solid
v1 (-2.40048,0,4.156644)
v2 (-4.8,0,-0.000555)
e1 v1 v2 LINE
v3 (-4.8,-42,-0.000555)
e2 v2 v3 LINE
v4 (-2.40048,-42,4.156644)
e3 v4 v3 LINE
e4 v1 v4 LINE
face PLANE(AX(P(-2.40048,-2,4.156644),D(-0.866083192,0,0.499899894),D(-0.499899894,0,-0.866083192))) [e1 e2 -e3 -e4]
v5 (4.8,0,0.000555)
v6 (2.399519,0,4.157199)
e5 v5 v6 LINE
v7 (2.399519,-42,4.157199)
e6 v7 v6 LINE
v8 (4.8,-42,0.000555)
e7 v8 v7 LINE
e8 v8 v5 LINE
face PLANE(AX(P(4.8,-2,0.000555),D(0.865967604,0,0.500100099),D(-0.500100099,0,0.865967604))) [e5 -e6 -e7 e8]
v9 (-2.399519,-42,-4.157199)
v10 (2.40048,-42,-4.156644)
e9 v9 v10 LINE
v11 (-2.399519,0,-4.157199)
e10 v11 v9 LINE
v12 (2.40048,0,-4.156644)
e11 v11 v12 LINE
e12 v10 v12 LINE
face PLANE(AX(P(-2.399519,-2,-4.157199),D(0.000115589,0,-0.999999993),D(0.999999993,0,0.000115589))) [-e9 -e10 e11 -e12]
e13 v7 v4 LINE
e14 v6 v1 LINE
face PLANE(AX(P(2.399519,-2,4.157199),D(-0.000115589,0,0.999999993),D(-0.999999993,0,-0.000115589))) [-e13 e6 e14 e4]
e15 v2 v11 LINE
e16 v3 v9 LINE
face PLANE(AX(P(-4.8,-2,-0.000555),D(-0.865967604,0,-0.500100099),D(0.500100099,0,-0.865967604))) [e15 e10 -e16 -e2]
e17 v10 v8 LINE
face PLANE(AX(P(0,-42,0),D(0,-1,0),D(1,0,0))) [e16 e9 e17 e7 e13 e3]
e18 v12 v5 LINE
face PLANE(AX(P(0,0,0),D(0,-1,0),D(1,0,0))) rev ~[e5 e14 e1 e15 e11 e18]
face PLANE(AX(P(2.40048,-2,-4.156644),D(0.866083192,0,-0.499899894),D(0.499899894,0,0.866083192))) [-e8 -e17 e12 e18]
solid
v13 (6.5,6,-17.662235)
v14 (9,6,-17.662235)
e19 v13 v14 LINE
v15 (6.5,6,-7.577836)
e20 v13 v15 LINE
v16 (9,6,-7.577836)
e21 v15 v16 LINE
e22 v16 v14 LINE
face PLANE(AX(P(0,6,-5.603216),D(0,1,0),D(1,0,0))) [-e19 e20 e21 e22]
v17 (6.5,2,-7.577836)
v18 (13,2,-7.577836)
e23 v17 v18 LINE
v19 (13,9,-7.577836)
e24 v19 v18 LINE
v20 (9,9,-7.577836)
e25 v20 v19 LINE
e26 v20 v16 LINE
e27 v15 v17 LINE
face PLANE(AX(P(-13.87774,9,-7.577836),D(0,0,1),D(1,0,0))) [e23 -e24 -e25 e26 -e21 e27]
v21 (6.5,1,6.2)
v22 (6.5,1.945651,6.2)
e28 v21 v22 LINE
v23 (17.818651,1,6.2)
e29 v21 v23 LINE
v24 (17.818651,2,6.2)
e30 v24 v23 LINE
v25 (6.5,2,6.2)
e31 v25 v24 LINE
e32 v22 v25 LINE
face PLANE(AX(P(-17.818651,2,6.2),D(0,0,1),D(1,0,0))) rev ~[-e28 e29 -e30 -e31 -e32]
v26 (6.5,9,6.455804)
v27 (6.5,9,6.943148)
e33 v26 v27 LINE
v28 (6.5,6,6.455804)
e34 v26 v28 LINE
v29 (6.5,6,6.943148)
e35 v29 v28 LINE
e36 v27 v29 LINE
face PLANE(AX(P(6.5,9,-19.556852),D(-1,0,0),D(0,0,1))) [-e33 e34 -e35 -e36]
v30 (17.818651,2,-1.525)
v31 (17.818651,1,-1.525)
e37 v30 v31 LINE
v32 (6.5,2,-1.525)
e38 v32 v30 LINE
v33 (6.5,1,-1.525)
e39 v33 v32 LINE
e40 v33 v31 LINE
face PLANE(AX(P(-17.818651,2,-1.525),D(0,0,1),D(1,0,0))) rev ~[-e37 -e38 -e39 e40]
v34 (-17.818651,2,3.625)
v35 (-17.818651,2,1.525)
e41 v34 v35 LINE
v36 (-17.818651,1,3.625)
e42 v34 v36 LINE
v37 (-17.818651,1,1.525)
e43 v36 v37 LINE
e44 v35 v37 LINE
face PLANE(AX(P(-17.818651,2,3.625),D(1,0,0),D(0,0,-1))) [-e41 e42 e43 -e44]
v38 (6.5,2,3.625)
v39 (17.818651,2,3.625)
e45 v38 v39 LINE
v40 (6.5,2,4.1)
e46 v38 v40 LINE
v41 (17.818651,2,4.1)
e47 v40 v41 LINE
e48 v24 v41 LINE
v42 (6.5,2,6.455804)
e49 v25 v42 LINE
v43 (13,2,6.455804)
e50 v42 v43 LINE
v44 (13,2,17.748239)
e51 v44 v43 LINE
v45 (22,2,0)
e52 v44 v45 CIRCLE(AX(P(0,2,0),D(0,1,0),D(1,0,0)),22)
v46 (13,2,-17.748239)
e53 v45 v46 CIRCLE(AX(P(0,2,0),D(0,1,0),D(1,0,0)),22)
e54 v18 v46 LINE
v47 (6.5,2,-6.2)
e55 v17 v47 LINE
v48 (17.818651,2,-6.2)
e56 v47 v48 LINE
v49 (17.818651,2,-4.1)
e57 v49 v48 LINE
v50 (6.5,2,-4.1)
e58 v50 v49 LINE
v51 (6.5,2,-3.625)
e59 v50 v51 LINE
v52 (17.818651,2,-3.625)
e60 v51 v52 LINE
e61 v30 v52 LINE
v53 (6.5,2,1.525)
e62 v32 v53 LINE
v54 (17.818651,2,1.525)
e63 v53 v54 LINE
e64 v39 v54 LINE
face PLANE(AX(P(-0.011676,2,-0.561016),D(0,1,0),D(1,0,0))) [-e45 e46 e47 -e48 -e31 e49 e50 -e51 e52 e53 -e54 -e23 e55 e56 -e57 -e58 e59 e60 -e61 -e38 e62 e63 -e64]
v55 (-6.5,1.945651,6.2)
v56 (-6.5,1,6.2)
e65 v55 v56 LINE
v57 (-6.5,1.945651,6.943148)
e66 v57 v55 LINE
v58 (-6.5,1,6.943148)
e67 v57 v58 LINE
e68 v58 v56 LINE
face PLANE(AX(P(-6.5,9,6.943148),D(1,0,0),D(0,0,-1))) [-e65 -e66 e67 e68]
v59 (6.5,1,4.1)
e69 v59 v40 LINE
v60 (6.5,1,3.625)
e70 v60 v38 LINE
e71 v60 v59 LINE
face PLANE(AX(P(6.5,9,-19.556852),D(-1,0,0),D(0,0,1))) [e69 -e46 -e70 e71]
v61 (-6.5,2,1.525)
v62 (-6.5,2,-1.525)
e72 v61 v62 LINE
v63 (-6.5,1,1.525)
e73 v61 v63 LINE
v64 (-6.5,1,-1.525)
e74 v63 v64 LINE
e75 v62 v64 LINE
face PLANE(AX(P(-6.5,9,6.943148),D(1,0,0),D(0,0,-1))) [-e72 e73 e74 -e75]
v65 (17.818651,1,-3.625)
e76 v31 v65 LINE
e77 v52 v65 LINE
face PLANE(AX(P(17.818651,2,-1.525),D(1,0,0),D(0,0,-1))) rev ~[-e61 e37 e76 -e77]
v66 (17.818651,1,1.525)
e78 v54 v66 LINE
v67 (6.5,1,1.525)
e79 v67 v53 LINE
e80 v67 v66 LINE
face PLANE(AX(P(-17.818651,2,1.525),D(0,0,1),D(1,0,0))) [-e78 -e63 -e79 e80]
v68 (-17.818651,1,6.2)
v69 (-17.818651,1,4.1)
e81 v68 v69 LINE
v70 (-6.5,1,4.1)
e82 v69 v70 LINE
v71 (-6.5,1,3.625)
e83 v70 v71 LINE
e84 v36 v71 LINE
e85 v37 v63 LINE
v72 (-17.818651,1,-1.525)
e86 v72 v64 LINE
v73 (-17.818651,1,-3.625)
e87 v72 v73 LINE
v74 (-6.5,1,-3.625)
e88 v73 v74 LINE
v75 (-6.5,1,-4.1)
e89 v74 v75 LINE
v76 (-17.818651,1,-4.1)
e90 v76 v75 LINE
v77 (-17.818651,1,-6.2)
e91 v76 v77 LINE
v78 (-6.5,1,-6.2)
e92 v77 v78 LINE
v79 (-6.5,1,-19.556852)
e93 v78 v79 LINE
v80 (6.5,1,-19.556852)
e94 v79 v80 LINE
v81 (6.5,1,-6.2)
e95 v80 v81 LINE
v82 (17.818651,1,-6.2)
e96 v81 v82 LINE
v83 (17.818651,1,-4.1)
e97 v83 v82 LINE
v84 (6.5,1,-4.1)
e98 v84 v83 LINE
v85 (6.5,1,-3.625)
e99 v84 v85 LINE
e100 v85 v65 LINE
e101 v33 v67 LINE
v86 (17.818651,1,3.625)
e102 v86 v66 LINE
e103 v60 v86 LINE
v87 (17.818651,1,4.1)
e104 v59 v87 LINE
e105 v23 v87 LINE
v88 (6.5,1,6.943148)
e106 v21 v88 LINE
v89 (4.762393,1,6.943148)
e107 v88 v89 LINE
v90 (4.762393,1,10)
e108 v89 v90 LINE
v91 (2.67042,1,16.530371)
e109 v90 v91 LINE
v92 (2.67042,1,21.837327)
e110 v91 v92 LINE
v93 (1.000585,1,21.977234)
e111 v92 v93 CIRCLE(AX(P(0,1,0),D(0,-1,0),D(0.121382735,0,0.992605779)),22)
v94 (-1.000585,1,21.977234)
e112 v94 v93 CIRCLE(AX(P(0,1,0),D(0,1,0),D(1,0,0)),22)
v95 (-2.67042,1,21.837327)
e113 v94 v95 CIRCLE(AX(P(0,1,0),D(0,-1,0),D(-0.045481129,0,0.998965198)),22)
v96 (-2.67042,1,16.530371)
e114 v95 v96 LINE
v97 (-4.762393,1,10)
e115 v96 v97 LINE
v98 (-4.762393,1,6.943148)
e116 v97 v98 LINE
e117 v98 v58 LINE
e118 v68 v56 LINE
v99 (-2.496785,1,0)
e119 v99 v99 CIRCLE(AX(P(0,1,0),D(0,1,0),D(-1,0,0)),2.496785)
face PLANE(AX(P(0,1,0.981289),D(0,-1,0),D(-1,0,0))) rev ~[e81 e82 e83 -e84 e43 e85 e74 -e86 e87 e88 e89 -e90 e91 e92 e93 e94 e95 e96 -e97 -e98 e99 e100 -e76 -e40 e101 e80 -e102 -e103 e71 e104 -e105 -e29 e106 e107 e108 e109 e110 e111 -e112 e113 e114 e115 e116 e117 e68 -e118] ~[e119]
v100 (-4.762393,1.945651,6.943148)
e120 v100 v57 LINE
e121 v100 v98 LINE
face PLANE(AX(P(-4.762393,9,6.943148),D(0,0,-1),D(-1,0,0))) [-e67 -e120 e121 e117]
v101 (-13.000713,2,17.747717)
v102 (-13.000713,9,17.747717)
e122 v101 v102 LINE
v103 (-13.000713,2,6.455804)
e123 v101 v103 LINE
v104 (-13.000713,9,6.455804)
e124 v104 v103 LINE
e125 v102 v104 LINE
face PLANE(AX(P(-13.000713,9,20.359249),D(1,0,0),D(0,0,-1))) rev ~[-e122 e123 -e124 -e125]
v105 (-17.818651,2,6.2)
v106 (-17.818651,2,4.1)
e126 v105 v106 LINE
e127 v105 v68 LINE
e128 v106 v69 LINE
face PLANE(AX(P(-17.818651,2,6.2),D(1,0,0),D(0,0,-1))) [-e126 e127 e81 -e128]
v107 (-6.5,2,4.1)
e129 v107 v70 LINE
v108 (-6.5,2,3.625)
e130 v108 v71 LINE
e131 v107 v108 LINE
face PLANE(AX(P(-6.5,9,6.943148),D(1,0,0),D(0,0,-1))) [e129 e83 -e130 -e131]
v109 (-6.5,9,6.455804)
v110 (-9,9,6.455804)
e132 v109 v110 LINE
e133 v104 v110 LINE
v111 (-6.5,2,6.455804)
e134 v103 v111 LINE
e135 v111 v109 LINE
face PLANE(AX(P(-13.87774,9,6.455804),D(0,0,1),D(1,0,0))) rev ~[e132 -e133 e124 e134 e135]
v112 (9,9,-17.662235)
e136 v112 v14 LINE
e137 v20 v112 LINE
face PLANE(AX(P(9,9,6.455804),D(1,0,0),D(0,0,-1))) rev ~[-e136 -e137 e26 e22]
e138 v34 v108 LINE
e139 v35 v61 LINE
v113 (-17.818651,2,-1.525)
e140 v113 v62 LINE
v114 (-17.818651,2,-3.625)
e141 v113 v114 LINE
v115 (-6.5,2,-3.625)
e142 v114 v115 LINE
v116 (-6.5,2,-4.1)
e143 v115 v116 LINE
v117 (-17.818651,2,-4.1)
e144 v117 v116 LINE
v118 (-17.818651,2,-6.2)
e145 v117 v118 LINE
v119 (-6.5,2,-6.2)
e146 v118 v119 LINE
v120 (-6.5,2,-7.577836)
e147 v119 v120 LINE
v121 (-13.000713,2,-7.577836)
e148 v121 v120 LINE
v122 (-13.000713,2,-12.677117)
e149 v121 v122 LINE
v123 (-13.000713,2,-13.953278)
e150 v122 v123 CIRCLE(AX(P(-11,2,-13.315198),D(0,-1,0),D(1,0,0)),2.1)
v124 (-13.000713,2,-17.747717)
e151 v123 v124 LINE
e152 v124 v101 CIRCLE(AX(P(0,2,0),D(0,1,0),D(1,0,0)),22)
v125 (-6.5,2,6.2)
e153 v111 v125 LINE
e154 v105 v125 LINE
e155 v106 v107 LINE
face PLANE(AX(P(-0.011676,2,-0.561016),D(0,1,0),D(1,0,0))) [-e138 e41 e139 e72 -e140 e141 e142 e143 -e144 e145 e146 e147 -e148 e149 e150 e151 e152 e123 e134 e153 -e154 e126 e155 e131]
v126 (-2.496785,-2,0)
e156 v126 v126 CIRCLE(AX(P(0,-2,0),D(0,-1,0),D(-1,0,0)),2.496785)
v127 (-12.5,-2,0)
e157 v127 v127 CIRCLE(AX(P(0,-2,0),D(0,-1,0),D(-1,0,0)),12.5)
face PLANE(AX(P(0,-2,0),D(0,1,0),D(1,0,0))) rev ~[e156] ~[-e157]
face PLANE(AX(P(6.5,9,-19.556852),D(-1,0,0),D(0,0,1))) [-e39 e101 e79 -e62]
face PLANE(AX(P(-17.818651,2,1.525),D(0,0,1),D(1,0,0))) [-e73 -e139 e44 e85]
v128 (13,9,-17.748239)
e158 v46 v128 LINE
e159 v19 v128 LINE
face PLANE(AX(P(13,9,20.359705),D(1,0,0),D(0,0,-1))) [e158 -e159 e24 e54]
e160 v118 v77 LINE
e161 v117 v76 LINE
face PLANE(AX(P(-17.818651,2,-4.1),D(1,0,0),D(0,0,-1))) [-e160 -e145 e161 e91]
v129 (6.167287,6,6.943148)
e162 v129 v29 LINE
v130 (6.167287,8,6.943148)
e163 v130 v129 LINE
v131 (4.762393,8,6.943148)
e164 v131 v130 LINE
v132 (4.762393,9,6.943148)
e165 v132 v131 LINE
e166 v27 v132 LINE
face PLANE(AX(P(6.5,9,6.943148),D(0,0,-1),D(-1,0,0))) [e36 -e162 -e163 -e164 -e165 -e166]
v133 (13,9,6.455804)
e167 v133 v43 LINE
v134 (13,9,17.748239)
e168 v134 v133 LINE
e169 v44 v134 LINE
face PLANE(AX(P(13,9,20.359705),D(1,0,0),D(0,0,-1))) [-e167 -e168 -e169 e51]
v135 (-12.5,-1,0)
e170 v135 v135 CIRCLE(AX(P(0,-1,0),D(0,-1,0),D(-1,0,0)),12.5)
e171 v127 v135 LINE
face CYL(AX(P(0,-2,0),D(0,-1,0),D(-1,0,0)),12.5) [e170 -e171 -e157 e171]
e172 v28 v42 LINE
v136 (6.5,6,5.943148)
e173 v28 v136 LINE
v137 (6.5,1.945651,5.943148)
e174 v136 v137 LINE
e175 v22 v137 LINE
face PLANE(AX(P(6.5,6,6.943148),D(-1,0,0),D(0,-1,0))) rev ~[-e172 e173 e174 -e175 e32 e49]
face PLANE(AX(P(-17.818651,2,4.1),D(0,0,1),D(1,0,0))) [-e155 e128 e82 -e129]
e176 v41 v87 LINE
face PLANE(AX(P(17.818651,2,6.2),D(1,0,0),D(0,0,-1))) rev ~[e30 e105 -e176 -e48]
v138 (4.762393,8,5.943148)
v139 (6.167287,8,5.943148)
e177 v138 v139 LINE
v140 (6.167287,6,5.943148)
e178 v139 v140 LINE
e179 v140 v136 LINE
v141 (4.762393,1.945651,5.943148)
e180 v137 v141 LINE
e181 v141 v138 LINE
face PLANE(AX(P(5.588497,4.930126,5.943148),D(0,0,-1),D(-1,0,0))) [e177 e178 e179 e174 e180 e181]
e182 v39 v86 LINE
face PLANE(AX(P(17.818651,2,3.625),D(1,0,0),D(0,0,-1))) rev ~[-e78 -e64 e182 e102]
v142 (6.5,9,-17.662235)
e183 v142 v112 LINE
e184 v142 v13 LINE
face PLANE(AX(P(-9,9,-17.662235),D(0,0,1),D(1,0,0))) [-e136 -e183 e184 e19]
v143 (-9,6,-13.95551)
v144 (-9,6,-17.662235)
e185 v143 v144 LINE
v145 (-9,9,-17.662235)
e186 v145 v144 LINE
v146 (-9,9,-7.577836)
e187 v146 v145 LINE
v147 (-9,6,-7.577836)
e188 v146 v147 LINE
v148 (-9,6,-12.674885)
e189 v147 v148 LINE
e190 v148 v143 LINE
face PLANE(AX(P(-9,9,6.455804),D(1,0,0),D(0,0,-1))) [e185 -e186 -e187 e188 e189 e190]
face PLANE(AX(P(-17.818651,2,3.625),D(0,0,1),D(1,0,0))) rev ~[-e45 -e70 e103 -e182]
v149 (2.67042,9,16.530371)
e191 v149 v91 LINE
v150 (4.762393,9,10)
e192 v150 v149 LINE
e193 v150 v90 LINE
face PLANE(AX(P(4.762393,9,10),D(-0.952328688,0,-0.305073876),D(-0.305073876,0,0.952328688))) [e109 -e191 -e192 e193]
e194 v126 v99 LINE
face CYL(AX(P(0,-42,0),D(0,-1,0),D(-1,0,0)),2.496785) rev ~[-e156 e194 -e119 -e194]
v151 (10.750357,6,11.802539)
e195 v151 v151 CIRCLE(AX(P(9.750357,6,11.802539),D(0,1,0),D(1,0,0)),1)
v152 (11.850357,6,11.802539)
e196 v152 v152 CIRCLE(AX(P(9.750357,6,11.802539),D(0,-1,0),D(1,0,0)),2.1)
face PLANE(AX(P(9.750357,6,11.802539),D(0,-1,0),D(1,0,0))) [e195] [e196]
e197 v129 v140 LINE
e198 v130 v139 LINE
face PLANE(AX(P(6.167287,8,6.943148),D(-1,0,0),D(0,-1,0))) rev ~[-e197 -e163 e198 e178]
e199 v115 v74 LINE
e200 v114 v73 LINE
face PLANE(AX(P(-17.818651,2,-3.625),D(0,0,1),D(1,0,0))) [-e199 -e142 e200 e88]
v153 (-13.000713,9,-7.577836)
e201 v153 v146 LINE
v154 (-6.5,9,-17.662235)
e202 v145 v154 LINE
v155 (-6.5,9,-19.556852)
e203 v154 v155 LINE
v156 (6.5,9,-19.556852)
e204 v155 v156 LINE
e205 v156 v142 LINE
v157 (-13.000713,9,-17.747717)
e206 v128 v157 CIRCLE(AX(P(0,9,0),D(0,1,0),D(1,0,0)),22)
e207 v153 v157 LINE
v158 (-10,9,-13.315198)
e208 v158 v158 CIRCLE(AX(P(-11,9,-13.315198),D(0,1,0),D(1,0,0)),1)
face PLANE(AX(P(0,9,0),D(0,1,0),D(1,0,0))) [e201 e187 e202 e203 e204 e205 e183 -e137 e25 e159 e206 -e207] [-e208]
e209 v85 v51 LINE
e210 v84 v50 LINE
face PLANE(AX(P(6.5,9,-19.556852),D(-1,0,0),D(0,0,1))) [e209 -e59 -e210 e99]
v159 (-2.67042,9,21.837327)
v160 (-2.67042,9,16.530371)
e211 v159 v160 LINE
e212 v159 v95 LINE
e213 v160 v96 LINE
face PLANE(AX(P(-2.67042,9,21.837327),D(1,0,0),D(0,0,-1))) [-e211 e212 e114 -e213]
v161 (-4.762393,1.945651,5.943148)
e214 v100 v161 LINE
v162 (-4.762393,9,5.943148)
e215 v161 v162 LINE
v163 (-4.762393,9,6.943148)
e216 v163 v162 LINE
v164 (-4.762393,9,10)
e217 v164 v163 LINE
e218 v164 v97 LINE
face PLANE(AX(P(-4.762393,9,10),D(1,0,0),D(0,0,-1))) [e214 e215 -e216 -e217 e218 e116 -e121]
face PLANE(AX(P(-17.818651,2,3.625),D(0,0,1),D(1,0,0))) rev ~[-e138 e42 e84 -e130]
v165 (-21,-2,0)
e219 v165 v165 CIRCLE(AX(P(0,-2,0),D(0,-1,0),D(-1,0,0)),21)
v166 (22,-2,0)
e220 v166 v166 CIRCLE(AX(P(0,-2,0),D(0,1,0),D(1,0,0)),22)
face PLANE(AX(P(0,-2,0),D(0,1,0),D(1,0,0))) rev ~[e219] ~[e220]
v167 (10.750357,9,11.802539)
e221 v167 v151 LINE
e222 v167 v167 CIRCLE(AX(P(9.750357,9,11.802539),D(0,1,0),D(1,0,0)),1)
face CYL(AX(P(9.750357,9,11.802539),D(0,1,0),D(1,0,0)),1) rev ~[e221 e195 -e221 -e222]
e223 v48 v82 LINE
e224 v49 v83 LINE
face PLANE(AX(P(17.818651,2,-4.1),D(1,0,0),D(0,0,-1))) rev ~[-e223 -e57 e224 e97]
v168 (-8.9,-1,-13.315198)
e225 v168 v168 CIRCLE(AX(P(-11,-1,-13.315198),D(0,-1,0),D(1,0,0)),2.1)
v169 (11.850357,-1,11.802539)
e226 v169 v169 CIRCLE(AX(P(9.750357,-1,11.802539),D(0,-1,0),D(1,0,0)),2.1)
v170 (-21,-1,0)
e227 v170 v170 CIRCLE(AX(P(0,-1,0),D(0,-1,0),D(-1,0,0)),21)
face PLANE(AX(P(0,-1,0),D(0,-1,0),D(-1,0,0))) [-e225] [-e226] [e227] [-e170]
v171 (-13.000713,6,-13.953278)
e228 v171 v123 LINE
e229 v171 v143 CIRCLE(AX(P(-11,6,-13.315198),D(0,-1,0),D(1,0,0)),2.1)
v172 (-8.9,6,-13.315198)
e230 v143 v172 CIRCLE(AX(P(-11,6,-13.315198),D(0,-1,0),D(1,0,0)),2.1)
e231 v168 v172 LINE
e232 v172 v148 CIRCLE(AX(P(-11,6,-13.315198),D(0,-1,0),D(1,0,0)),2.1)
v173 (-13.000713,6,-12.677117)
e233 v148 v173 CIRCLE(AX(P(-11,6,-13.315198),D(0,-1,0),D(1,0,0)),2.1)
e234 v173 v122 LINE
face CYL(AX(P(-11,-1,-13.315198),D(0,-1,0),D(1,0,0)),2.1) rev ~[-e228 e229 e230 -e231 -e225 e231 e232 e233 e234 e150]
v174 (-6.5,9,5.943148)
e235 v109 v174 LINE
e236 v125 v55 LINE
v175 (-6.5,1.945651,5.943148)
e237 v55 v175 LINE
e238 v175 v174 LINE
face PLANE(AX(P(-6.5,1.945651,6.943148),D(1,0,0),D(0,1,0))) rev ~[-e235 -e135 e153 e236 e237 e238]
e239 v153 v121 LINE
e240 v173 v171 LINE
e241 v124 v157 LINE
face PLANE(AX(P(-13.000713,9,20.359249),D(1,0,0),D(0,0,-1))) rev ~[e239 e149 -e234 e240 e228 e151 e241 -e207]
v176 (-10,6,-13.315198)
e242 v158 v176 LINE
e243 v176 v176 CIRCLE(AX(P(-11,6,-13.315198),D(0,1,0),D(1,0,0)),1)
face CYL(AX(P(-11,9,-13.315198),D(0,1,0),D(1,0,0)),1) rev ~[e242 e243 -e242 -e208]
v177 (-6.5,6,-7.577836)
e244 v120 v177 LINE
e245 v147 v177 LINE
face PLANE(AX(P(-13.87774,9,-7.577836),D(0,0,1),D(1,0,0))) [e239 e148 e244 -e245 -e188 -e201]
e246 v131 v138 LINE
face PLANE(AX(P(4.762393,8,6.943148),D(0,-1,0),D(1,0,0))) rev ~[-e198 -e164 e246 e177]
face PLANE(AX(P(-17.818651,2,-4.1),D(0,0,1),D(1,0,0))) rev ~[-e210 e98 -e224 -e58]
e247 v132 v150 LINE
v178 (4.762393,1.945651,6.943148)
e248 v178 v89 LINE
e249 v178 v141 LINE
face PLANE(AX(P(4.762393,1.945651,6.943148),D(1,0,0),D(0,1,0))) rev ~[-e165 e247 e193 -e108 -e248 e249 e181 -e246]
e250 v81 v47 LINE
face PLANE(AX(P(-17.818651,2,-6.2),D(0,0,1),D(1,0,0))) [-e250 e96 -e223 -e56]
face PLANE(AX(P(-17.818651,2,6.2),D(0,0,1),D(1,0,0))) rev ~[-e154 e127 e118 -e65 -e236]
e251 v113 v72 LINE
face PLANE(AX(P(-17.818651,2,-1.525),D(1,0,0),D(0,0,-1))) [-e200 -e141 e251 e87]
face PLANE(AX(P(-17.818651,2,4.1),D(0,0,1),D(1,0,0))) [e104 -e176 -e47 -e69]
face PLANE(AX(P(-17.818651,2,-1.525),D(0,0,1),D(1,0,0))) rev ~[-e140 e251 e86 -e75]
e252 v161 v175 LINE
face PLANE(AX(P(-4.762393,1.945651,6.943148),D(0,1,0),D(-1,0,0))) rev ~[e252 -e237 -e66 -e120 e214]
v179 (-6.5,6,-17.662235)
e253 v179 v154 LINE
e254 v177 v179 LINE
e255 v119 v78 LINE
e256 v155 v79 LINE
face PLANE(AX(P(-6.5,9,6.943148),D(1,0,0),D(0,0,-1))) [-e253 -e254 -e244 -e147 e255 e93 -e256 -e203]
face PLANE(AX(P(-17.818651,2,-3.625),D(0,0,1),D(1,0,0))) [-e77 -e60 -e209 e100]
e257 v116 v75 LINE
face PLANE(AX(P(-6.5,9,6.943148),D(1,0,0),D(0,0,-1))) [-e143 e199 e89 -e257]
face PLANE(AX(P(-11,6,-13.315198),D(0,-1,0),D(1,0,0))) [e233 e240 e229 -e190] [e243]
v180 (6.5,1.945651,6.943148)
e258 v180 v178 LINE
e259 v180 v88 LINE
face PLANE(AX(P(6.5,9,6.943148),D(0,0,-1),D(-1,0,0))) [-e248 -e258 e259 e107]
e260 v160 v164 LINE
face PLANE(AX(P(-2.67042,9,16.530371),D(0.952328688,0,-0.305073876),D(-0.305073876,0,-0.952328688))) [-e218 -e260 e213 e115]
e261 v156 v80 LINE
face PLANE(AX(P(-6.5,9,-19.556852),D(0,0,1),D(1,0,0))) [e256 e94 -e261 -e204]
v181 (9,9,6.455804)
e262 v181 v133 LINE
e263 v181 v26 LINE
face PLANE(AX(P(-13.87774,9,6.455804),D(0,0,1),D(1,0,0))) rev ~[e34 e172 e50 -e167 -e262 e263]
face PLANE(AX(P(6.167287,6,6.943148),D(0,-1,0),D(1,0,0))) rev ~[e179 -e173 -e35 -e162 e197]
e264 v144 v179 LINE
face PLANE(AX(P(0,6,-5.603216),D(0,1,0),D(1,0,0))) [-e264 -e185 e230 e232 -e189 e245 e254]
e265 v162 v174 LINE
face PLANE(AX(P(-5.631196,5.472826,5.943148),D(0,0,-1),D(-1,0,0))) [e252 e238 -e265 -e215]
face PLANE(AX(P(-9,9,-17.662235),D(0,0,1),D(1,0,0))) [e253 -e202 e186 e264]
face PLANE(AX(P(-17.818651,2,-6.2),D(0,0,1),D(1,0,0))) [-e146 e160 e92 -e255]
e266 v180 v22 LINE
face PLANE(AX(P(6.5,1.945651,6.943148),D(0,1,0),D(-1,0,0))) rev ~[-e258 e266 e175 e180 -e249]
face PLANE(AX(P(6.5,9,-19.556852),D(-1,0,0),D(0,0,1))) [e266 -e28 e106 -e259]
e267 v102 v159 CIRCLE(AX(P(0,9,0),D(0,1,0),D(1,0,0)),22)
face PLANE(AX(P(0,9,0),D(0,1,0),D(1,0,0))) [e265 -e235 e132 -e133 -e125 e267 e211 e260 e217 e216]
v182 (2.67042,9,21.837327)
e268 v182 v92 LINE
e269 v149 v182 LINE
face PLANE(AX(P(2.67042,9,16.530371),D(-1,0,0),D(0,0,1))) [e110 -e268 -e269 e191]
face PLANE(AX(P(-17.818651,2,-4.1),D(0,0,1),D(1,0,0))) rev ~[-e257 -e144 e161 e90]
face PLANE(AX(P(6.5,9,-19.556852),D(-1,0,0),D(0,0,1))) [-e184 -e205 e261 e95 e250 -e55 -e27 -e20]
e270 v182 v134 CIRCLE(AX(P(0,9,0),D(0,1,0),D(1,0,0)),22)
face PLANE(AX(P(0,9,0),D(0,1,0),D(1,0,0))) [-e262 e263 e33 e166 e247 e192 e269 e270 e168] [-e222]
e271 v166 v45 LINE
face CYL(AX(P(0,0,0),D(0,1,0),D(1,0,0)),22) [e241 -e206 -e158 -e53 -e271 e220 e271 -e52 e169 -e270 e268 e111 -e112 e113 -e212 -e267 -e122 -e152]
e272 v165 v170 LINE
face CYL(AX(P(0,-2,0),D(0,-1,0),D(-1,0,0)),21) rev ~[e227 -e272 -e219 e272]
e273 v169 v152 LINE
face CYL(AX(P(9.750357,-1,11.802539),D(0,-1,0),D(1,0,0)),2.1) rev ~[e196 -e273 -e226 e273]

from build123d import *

# Parameters (mm, degrees)
SKETCH1_R                = 22
BOSS_EXTRUDE1_DEPTH      = 9
BOSS_EXTRUDE1_DEPTH_BACK = 2
SKETCH6_R                = 21
SKETCH6_R_2              = 12.5
CUT_EXTRUDE5_DEPTH       = 1
SKETCH7_R                = 8.5
BOSS_EXTRUDE2_DEPTH      = 40
SKETCH8_R                = 1.5
CUT_EXTRUDE6_DEPTH       = 41
CUT_EXTRUDE6_DEPTH_BACK  = 12
CUT_EXTRUDE7_DEPTH       = 7
SKETCH17_R               = 2.496785081
CUT_EXTRUDE14_DEPTH      = 62
SKETCH29_W               = 18
SKETCH29_H               = 24.118038922
CUT_EXTRUDE19_DEPTH      = 3
SKETCH30_W               = 2.5
SKETCH30_H               = 14
CUT_EXTRUDE20_DEPTH      = 6
SKETCH35_R               = 9.1
SKETCH35_R_2             = 8.5
BOSS_EXTRUDE4_DEPTH      = 2
BOSS_EXTRUDE4_DEPTH_BACK = 2
SKETCH36_R               = 8.5
SKETCH36_R_2             = 8.3
CUT_EXTRUDE28_DEPTH      = 1.5
CUT_EXTRUDE28_DEPTH_BACK = 1.5
SKETCH39_R               = 8.5
SKETCH39_R_2             = 8.3
CUT_EXTRUDE30_DEPTH      = 1.5
CUT_EXTRUDE30_DEPTH_BACK = 1.5
SKETCH40_R               = 8.5
SKETCH40_R_2             = 8.3
CUT_EXTRUDE31_DEPTH      = 1.5
CUT_EXTRUDE31_DEPTH_BACK = 1.5
SKETCH41_R               = 8.5
SKETCH41_R_2             = 8.35
CUT_EXTRUDE32_DEPTH      = 1.5
CUT_EXTRUDE32_DEPTH_BACK = 1.5
SKETCH42_R               = 8.5
SKETCH42_R_2             = 8.3
CUT_EXTRUDE33_DEPTH      = 1.5
CUT_EXTRUDE33_DEPTH_BACK = 1.5
SKETCH43_R               = 8.5
SKETCH43_R_2             = 8.3
CUT_EXTRUDE34_DEPTH      = 1.5
CUT_EXTRUDE34_DEPTH_BACK = 1.5
SKETCH44_R               = 1
CUT_EXTRUDE35_DEPTH      = 23
CUT_EXTRUDE35_DEPTH_BACK = 23
SKETCH45_R               = 1
CUT_EXTRUDE36_DEPTH      = 31.052558883
CUT_EXTRUDE36_DEPTH_BACK = 31.052558883
SKETCH46_R               = 1
CUT_EXTRUDE37_DEPTH      = 31.052558883
CUT_EXTRUDE37_DEPTH_BACK = 31.052558883
SKETCH47_W               = 27.732128476
SKETCH47_H               = 14.033639909
CUT_EXTRUDE38_DEPTH      = 7
CUT_EXTRUDE39_DEPTH      = 8
SKETCH48_R               = 1
CUT_EXTRUDE40_DEPTH      = 9
SKETCH50_R               = 6.388253867
BOSS_EXTRUDE5_DEPTH      = 2
SKETCH49_R               = 2.1
CUT_EXTRUDE42_DEPTH      = 7
SKETCH51_W               = 35.63730279
SKETCH51_H               = 2.1
CUT_EXTRUDE43_DEPTH      = 1
SKETCH53_R               = 9.1
CUT_EXTRUDE45_DEPTH      = 40
SKETCH55_W               = 1.737607108
SKETCH55_H               = 7.054348591
BOSS_EXTRUDE6_DEPTH      = 1
BOSS_EXTRUDE9_DEPTH      = 40
BOSS_EXTRUDE9_DEPTH_BACK = 2


with BuildPart() as part:
    # Sketch1 → Boss-Extrude1 (new body, two sides)
    with BuildSketch(Plane(origin=(0, 0, 0), x_dir=(1, 0, 0), z_dir=(0, 1, 0))) as boss_extrude1_sk:
        Circle(SKETCH1_R)
    extrude(amount=BOSS_EXTRUDE1_DEPTH)
    extrude(boss_extrude1_sk.sketch, amount=-BOSS_EXTRUDE1_DEPTH_BACK)

    # Sketch6 → Cut-Extrude5 (cut)
    with BuildSketch(Plane(origin=(0, -2, 0), x_dir=(-1, 0, 0), z_dir=(0, -1, 0))):
        Circle(SKETCH6_R)
        Circle(SKETCH6_R_2, mode=Mode.SUBTRACT)
    extrude(amount=-CUT_EXTRUDE5_DEPTH, mode=Mode.SUBTRACT)

    # Sketch7 → Boss-Extrude2 (add)
    with BuildSketch(Plane(origin=(0, -2, 0), x_dir=(-1, 0, 0), z_dir=(0, -1, 0))):
        Circle(SKETCH7_R)
    extrude(amount=BOSS_EXTRUDE2_DEPTH)

    # Sketch8 → Cut-Extrude6 (cut, two sides)
    with BuildSketch(Plane(origin=(0, -2, 0), x_dir=(-1, 0, 0), z_dir=(0, -1, 0))) as cut_extrude6_sk:
        Circle(SKETCH8_R)
    extrude(amount=CUT_EXTRUDE6_DEPTH, mode=Mode.SUBTRACT)
    extrude(cut_extrude6_sk.sketch, amount=-CUT_EXTRUDE6_DEPTH_BACK, mode=Mode.SUBTRACT)

    # Sketch9 → Cut-Extrude7 (cut)
    with BuildSketch(Plane(origin=(0, 9, 0), x_dir=(1, 0, 0), z_dir=(0, 1, 0))):
        with BuildLine():
            Line((-13.000713231, -20.359249211), (-13.000713231, 20.359249211))
            ThreePointArc((-13.000713231, 20.359249211), (-24.156108398, 0), (-13.000713231, -20.359249211))
        make_face()
        with BuildLine():
            Line((13, -20.359704638), (13, 20.359704638))
            ThreePointArc((13, 20.359704638), (24.156108398, 0), (13, -20.359704638))
        make_face()
    extrude(amount=-CUT_EXTRUDE7_DEPTH, mode=Mode.SUBTRACT)

    # Sketch17 → Cut-Extrude14 (cut)
    with BuildSketch(Plane(origin=(0, -42, 0), x_dir=(-1, 0, 0), z_dir=(0, -1, 0))):
        Circle(SKETCH17_R)
    extrude(amount=-CUT_EXTRUDE14_DEPTH, mode=Mode.SUBTRACT)

    # Sketch29 → Cut-Extrude19 (cut)
    with BuildSketch(Plane(origin=(0, 9, 0), x_dir=(1, 0, 0), z_dir=(0, 1, 0))):
        with Locations((0, 5.603215798)):
            Rectangle(SKETCH29_W, SKETCH29_H)
    extrude(amount=-CUT_EXTRUDE19_DEPTH, mode=Mode.SUBTRACT)

    # Sketch30 → Cut-Extrude20 (cut)
    with BuildSketch(Plane(origin=(0, 9, 0), x_dir=(1, 0, 0), z_dir=(0, 1, 0))):
        with Locations((6.752146467, 0.544196337)):
            Rectangle(SKETCH30_W, SKETCH30_H)
        with Locations((-6.752146467, 0.544196337)):
            Rectangle(SKETCH30_W, SKETCH30_H)
    extrude(amount=-CUT_EXTRUDE20_DEPTH, mode=Mode.SUBTRACT)

    # Sketch35 → Boss-Extrude4 (add, two sides)
    with BuildSketch(Plane(origin=(0, -6.5, 0), x_dir=(1, 0, 0), z_dir=(0, 1, 0))) as boss_extrude4_sk:
        Circle(SKETCH35_R)
        Circle(SKETCH35_R_2, mode=Mode.SUBTRACT)
    extrude(amount=BOSS_EXTRUDE4_DEPTH)
    extrude(boss_extrude4_sk.sketch, amount=-BOSS_EXTRUDE4_DEPTH_BACK)

    # Sketch36 → Cut-Extrude28 (cut, two sides)
    with BuildSketch(Plane(origin=(0, -17, 0), x_dir=(1, 0, 0), z_dir=(0, 1, 0))) as cut_extrude28_sk:
        Circle(SKETCH36_R)
        Circle(SKETCH36_R_2, mode=Mode.SUBTRACT)
    extrude(amount=CUT_EXTRUDE28_DEPTH, mode=Mode.SUBTRACT)
    extrude(cut_extrude28_sk.sketch, amount=-CUT_EXTRUDE28_DEPTH_BACK, mode=Mode.SUBTRACT)

    # Sketch39 → Cut-Extrude30 (cut, two sides)
    with BuildSketch(Plane(origin=(0, -21, 0), x_dir=(1, 0, 0), z_dir=(0, 1, 0))) as cut_extrude30_sk:
        Circle(SKETCH39_R)
        Circle(SKETCH39_R_2, mode=Mode.SUBTRACT)
    extrude(amount=CUT_EXTRUDE30_DEPTH, mode=Mode.SUBTRACT)
    extrude(cut_extrude30_sk.sketch, amount=-CUT_EXTRUDE30_DEPTH_BACK, mode=Mode.SUBTRACT)

    # Sketch40 → Cut-Extrude31 (cut, two sides)
    with BuildSketch(Plane(origin=(0, -25, 0), x_dir=(1, 0, 0), z_dir=(0, 1, 0))) as cut_extrude31_sk:
        Circle(SKETCH40_R)
        Circle(SKETCH40_R_2, mode=Mode.SUBTRACT)
    extrude(amount=CUT_EXTRUDE31_DEPTH, mode=Mode.SUBTRACT)
    extrude(cut_extrude31_sk.sketch, amount=-CUT_EXTRUDE31_DEPTH_BACK, mode=Mode.SUBTRACT)

    # Sketch41 → Cut-Extrude32 (cut, two sides)
    with BuildSketch(Plane(origin=(0, -29, 0), x_dir=(1, 0, 0), z_dir=(0, 1, 0))) as cut_extrude32_sk:
        Circle(SKETCH41_R)
        Circle(SKETCH41_R_2, mode=Mode.SUBTRACT)
    extrude(amount=CUT_EXTRUDE32_DEPTH, mode=Mode.SUBTRACT)
    extrude(cut_extrude32_sk.sketch, amount=-CUT_EXTRUDE32_DEPTH_BACK, mode=Mode.SUBTRACT)

    # Sketch42 → Cut-Extrude33 (cut, two sides)
    with BuildSketch(Plane(origin=(0, -33, 0), x_dir=(1, 0, 0), z_dir=(0, 1, 0))) as cut_extrude33_sk:
        Circle(SKETCH42_R)
        Circle(SKETCH42_R_2, mode=Mode.SUBTRACT)
    extrude(amount=CUT_EXTRUDE33_DEPTH, mode=Mode.SUBTRACT)
    extrude(cut_extrude33_sk.sketch, amount=-CUT_EXTRUDE33_DEPTH_BACK, mode=Mode.SUBTRACT)

    # Sketch43 → Cut-Extrude34 (cut, two sides)
    with BuildSketch(Plane(origin=(0, -37, 0), x_dir=(1, 0, 0), z_dir=(0, 1, 0))) as cut_extrude34_sk:
        Circle(SKETCH43_R)
        Circle(SKETCH43_R_2, mode=Mode.SUBTRACT)
    extrude(amount=CUT_EXTRUDE34_DEPTH, mode=Mode.SUBTRACT)
    extrude(cut_extrude34_sk.sketch, amount=-CUT_EXTRUDE34_DEPTH_BACK, mode=Mode.SUBTRACT)

    # Sketch44 → Cut-Extrude35 (cut, two sides)
    with BuildSketch(Plane.XY) as cut_extrude35_sk:
        with Locations((0, -16.975647938)):
            Circle(SKETCH44_R)
        with Locations((0, -29.042179734)):
            Circle(SKETCH44_R)
    extrude(amount=CUT_EXTRUDE35_DEPTH, mode=Mode.SUBTRACT)
    extrude(cut_extrude35_sk.sketch, amount=-CUT_EXTRUDE35_DEPTH_BACK, mode=Mode.SUBTRACT)

    # Sketch45 → Cut-Extrude36 (cut, two sides)
    with BuildSketch(Plane(origin=(0, 0, 0), x_dir=(0, 1, 0), z_dir=(0.866025404, 0, 0.5))) as cut_extrude36_sk:
        with Locations((-21.101513607, 0)):
            Circle(SKETCH45_R)
        with Locations((-33.049455879, 0)):
            Circle(SKETCH45_R)
    extrude(amount=CUT_EXTRUDE36_DEPTH, mode=Mode.SUBTRACT)
    extrude(cut_extrude36_sk.sketch, amount=-CUT_EXTRUDE36_DEPTH_BACK, mode=Mode.SUBTRACT)

    # Sketch46 → Cut-Extrude37 (cut, two sides)
    with BuildSketch(Plane(origin=(0, 0, 0), x_dir=(0, 1, 0), z_dir=(0.866025404, 0, -0.5))) as cut_extrude37_sk:
        with Locations((-24.961001523, 0)):
            Circle(SKETCH46_R)
        with Locations((-37.130366549, 0)):
            Circle(SKETCH46_R)
    extrude(amount=CUT_EXTRUDE37_DEPTH, mode=Mode.SUBTRACT)
    extrude(cut_extrude37_sk.sketch, amount=-CUT_EXTRUDE37_DEPTH_BACK, mode=Mode.SUBTRACT)

    # Sketch47 → Cut-Extrude38 (cut)
    with BuildSketch(Plane(origin=(0, 9, 0), x_dir=(1, 0, 0), z_dir=(0, 1, 0))):
        with Locations((-0.011675811, 0.561016292)):
            Rectangle(SKETCH47_W, SKETCH47_H)
    extrude(amount=-CUT_EXTRUDE38_DEPTH, mode=Mode.SUBTRACT)

    # Sketch23 → Cut-Extrude39 (cut)
    with BuildSketch(Plane(origin=(0, 9, 0), x_dir=(1, 0, 0), z_dir=(0, 1, 0))):
        with BuildLine():
            Line((-2.670420152, -16.85816067), (-2.670420152, -16.530371213))
            Line((-2.670420152, -16.530371213), (-4.762392892, -10))
            Line((-4.762392892, -10), (-4.762392892, -6.943148259))
            Line((-4.762392892, -6.943148259), (-6.5, -6.943148259))
            Line((-6.5, -6.943148259), (-6.5, 19.556851741))
            Line((-6.5, 19.556851741), (6.5, 19.556851741))
            Line((6.5, 19.556851741), (6.5, -6.943148259))
            Line((6.5, -6.943148259), (4.762392892, -6.943148259))
            Line((4.762392892, -6.943148259), (4.762392892, -10))
            Line((4.762392892, -10), (2.670420152, -16.530371213))
            Line((2.670420152, -16.530371213), (2.670420152, -16.85816067))
            Line((2.670420152, -16.85816067), (2.670420152, -21.837327131))
            ThreePointArc((2.670420152, -21.837327131), (1.836835043, -21.92318492), (1.000584871, -21.977234355))
            Line((1.000584871, -21.977234355), (0, -25.25))
            Line((0, -25.25), (-1.000584871, -21.977234355))
            ThreePointArc((-1.000584871, -21.977234355), (-1.836835043, -21.92318492), (-2.670420152, -21.837327131))
            Line((-2.670420152, -21.837327131), (-2.670420152, -16.85816067))
        make_face()
    extrude(amount=-CUT_EXTRUDE39_DEPTH, mode=Mode.SUBTRACT)

    # Sketch48 → Cut-Extrude40 (cut)
    with BuildSketch(Plane(origin=(0, 9, 0), x_dir=(1, 0, 0), z_dir=(0, 1, 0))):
        with Locations((-11, 13.315197565)):
            Circle(SKETCH48_R)
        with Locations((9.750356615, -11.802538605)):
            Circle(SKETCH48_R)
    extrude(amount=-CUT_EXTRUDE40_DEPTH, mode=Mode.SUBTRACT)

    # Sketch50 → Boss-Extrude5 (add)
    with BuildSketch(Plane.XZ.offset(42)):
        Circle(SKETCH50_R)
        Polygon((-4.989659815, -0.000576747), (-2.49433043, -4.321460529), (2.495329385, -4.320883782), (4.989659815, 0.000576747), (2.49433043, 4.321460529), (-2.495329385, 4.320883782), align=None, mode=Mode.SUBTRACT)
    extrude(amount=-BOSS_EXTRUDE5_DEPTH)

    # Sketch49 → Cut-Extrude42 (cut)
    with BuildSketch(Plane.XZ.offset(1)):
        with Locations((-11, -13.315197565)):
            Circle(SKETCH49_R)
        with Locations((9.750356615, 11.802538605)):
            Circle(SKETCH49_R)
    extrude(amount=-CUT_EXTRUDE42_DEPTH, mode=Mode.SUBTRACT)

    # Sketch51 → Cut-Extrude43 (cut)
    with BuildSketch(Plane(origin=(0, 2, 0), x_dir=(1, 0, 0), z_dir=(0, 1, 0))):
        with Locations((0, 5.15)):
            Rectangle(SKETCH51_W, SKETCH51_H)
        with Locations((0, 2.575)):
            Rectangle(SKETCH51_W, SKETCH51_H)
        with Locations((0, -2.575)):
            Rectangle(SKETCH51_W, SKETCH51_H)
        with Locations((0, -5.15)):
            Rectangle(SKETCH51_W, SKETCH51_H)
    extrude(amount=-CUT_EXTRUDE43_DEPTH, mode=Mode.SUBTRACT)

    # Sketch53 → Cut-Extrude45 (cut)
    with BuildSketch(Plane.XZ.offset(42)):
        Circle(SKETCH53_R)
    extrude(amount=-CUT_EXTRUDE45_DEPTH, mode=Mode.SUBTRACT)

    # Sketch55 → Boss-Extrude6 (add)
    with BuildSketch(Plane(origin=(0, 0, 6.943148259), x_dir=(-1, 0, 0), z_dir=(0, 0, -1))):
        Polygon((-4.762392892, 8), (-6.167287474, 8), (-6.167287474, 6), (-6.5, 6), (-6.5, 1.945651409), (-4.762392892, 1.945651409), align=None)
        with Locations((5.631196446, 5.472825704)):
            Rectangle(SKETCH55_W, SKETCH55_H)
    extrude(amount=BOSS_EXTRUDE6_DEPTH)


with BuildPart() as body_2:
    # Sketch56 → Boss-Extrude9 (new body, two sides)
    with BuildSketch(Plane.XZ.offset(2)) as boss_extrude9_sk:
        Polygon((2.399519492, 4.157199323), (-2.400480476, 4.156644498), (-4.799999968, -0.000554824), (-2.399519492, -4.157199323), (2.400480476, -4.156644498), (4.799999968, 0.000554824), align=None)
    extrude(amount=BOSS_EXTRUDE9_DEPTH)
    extrude(boss_extrude9_sk.sketch, amount=-BOSS_EXTRUDE9_DEPTH_BACK)


solid = Compound([part.part, body_2.part])
